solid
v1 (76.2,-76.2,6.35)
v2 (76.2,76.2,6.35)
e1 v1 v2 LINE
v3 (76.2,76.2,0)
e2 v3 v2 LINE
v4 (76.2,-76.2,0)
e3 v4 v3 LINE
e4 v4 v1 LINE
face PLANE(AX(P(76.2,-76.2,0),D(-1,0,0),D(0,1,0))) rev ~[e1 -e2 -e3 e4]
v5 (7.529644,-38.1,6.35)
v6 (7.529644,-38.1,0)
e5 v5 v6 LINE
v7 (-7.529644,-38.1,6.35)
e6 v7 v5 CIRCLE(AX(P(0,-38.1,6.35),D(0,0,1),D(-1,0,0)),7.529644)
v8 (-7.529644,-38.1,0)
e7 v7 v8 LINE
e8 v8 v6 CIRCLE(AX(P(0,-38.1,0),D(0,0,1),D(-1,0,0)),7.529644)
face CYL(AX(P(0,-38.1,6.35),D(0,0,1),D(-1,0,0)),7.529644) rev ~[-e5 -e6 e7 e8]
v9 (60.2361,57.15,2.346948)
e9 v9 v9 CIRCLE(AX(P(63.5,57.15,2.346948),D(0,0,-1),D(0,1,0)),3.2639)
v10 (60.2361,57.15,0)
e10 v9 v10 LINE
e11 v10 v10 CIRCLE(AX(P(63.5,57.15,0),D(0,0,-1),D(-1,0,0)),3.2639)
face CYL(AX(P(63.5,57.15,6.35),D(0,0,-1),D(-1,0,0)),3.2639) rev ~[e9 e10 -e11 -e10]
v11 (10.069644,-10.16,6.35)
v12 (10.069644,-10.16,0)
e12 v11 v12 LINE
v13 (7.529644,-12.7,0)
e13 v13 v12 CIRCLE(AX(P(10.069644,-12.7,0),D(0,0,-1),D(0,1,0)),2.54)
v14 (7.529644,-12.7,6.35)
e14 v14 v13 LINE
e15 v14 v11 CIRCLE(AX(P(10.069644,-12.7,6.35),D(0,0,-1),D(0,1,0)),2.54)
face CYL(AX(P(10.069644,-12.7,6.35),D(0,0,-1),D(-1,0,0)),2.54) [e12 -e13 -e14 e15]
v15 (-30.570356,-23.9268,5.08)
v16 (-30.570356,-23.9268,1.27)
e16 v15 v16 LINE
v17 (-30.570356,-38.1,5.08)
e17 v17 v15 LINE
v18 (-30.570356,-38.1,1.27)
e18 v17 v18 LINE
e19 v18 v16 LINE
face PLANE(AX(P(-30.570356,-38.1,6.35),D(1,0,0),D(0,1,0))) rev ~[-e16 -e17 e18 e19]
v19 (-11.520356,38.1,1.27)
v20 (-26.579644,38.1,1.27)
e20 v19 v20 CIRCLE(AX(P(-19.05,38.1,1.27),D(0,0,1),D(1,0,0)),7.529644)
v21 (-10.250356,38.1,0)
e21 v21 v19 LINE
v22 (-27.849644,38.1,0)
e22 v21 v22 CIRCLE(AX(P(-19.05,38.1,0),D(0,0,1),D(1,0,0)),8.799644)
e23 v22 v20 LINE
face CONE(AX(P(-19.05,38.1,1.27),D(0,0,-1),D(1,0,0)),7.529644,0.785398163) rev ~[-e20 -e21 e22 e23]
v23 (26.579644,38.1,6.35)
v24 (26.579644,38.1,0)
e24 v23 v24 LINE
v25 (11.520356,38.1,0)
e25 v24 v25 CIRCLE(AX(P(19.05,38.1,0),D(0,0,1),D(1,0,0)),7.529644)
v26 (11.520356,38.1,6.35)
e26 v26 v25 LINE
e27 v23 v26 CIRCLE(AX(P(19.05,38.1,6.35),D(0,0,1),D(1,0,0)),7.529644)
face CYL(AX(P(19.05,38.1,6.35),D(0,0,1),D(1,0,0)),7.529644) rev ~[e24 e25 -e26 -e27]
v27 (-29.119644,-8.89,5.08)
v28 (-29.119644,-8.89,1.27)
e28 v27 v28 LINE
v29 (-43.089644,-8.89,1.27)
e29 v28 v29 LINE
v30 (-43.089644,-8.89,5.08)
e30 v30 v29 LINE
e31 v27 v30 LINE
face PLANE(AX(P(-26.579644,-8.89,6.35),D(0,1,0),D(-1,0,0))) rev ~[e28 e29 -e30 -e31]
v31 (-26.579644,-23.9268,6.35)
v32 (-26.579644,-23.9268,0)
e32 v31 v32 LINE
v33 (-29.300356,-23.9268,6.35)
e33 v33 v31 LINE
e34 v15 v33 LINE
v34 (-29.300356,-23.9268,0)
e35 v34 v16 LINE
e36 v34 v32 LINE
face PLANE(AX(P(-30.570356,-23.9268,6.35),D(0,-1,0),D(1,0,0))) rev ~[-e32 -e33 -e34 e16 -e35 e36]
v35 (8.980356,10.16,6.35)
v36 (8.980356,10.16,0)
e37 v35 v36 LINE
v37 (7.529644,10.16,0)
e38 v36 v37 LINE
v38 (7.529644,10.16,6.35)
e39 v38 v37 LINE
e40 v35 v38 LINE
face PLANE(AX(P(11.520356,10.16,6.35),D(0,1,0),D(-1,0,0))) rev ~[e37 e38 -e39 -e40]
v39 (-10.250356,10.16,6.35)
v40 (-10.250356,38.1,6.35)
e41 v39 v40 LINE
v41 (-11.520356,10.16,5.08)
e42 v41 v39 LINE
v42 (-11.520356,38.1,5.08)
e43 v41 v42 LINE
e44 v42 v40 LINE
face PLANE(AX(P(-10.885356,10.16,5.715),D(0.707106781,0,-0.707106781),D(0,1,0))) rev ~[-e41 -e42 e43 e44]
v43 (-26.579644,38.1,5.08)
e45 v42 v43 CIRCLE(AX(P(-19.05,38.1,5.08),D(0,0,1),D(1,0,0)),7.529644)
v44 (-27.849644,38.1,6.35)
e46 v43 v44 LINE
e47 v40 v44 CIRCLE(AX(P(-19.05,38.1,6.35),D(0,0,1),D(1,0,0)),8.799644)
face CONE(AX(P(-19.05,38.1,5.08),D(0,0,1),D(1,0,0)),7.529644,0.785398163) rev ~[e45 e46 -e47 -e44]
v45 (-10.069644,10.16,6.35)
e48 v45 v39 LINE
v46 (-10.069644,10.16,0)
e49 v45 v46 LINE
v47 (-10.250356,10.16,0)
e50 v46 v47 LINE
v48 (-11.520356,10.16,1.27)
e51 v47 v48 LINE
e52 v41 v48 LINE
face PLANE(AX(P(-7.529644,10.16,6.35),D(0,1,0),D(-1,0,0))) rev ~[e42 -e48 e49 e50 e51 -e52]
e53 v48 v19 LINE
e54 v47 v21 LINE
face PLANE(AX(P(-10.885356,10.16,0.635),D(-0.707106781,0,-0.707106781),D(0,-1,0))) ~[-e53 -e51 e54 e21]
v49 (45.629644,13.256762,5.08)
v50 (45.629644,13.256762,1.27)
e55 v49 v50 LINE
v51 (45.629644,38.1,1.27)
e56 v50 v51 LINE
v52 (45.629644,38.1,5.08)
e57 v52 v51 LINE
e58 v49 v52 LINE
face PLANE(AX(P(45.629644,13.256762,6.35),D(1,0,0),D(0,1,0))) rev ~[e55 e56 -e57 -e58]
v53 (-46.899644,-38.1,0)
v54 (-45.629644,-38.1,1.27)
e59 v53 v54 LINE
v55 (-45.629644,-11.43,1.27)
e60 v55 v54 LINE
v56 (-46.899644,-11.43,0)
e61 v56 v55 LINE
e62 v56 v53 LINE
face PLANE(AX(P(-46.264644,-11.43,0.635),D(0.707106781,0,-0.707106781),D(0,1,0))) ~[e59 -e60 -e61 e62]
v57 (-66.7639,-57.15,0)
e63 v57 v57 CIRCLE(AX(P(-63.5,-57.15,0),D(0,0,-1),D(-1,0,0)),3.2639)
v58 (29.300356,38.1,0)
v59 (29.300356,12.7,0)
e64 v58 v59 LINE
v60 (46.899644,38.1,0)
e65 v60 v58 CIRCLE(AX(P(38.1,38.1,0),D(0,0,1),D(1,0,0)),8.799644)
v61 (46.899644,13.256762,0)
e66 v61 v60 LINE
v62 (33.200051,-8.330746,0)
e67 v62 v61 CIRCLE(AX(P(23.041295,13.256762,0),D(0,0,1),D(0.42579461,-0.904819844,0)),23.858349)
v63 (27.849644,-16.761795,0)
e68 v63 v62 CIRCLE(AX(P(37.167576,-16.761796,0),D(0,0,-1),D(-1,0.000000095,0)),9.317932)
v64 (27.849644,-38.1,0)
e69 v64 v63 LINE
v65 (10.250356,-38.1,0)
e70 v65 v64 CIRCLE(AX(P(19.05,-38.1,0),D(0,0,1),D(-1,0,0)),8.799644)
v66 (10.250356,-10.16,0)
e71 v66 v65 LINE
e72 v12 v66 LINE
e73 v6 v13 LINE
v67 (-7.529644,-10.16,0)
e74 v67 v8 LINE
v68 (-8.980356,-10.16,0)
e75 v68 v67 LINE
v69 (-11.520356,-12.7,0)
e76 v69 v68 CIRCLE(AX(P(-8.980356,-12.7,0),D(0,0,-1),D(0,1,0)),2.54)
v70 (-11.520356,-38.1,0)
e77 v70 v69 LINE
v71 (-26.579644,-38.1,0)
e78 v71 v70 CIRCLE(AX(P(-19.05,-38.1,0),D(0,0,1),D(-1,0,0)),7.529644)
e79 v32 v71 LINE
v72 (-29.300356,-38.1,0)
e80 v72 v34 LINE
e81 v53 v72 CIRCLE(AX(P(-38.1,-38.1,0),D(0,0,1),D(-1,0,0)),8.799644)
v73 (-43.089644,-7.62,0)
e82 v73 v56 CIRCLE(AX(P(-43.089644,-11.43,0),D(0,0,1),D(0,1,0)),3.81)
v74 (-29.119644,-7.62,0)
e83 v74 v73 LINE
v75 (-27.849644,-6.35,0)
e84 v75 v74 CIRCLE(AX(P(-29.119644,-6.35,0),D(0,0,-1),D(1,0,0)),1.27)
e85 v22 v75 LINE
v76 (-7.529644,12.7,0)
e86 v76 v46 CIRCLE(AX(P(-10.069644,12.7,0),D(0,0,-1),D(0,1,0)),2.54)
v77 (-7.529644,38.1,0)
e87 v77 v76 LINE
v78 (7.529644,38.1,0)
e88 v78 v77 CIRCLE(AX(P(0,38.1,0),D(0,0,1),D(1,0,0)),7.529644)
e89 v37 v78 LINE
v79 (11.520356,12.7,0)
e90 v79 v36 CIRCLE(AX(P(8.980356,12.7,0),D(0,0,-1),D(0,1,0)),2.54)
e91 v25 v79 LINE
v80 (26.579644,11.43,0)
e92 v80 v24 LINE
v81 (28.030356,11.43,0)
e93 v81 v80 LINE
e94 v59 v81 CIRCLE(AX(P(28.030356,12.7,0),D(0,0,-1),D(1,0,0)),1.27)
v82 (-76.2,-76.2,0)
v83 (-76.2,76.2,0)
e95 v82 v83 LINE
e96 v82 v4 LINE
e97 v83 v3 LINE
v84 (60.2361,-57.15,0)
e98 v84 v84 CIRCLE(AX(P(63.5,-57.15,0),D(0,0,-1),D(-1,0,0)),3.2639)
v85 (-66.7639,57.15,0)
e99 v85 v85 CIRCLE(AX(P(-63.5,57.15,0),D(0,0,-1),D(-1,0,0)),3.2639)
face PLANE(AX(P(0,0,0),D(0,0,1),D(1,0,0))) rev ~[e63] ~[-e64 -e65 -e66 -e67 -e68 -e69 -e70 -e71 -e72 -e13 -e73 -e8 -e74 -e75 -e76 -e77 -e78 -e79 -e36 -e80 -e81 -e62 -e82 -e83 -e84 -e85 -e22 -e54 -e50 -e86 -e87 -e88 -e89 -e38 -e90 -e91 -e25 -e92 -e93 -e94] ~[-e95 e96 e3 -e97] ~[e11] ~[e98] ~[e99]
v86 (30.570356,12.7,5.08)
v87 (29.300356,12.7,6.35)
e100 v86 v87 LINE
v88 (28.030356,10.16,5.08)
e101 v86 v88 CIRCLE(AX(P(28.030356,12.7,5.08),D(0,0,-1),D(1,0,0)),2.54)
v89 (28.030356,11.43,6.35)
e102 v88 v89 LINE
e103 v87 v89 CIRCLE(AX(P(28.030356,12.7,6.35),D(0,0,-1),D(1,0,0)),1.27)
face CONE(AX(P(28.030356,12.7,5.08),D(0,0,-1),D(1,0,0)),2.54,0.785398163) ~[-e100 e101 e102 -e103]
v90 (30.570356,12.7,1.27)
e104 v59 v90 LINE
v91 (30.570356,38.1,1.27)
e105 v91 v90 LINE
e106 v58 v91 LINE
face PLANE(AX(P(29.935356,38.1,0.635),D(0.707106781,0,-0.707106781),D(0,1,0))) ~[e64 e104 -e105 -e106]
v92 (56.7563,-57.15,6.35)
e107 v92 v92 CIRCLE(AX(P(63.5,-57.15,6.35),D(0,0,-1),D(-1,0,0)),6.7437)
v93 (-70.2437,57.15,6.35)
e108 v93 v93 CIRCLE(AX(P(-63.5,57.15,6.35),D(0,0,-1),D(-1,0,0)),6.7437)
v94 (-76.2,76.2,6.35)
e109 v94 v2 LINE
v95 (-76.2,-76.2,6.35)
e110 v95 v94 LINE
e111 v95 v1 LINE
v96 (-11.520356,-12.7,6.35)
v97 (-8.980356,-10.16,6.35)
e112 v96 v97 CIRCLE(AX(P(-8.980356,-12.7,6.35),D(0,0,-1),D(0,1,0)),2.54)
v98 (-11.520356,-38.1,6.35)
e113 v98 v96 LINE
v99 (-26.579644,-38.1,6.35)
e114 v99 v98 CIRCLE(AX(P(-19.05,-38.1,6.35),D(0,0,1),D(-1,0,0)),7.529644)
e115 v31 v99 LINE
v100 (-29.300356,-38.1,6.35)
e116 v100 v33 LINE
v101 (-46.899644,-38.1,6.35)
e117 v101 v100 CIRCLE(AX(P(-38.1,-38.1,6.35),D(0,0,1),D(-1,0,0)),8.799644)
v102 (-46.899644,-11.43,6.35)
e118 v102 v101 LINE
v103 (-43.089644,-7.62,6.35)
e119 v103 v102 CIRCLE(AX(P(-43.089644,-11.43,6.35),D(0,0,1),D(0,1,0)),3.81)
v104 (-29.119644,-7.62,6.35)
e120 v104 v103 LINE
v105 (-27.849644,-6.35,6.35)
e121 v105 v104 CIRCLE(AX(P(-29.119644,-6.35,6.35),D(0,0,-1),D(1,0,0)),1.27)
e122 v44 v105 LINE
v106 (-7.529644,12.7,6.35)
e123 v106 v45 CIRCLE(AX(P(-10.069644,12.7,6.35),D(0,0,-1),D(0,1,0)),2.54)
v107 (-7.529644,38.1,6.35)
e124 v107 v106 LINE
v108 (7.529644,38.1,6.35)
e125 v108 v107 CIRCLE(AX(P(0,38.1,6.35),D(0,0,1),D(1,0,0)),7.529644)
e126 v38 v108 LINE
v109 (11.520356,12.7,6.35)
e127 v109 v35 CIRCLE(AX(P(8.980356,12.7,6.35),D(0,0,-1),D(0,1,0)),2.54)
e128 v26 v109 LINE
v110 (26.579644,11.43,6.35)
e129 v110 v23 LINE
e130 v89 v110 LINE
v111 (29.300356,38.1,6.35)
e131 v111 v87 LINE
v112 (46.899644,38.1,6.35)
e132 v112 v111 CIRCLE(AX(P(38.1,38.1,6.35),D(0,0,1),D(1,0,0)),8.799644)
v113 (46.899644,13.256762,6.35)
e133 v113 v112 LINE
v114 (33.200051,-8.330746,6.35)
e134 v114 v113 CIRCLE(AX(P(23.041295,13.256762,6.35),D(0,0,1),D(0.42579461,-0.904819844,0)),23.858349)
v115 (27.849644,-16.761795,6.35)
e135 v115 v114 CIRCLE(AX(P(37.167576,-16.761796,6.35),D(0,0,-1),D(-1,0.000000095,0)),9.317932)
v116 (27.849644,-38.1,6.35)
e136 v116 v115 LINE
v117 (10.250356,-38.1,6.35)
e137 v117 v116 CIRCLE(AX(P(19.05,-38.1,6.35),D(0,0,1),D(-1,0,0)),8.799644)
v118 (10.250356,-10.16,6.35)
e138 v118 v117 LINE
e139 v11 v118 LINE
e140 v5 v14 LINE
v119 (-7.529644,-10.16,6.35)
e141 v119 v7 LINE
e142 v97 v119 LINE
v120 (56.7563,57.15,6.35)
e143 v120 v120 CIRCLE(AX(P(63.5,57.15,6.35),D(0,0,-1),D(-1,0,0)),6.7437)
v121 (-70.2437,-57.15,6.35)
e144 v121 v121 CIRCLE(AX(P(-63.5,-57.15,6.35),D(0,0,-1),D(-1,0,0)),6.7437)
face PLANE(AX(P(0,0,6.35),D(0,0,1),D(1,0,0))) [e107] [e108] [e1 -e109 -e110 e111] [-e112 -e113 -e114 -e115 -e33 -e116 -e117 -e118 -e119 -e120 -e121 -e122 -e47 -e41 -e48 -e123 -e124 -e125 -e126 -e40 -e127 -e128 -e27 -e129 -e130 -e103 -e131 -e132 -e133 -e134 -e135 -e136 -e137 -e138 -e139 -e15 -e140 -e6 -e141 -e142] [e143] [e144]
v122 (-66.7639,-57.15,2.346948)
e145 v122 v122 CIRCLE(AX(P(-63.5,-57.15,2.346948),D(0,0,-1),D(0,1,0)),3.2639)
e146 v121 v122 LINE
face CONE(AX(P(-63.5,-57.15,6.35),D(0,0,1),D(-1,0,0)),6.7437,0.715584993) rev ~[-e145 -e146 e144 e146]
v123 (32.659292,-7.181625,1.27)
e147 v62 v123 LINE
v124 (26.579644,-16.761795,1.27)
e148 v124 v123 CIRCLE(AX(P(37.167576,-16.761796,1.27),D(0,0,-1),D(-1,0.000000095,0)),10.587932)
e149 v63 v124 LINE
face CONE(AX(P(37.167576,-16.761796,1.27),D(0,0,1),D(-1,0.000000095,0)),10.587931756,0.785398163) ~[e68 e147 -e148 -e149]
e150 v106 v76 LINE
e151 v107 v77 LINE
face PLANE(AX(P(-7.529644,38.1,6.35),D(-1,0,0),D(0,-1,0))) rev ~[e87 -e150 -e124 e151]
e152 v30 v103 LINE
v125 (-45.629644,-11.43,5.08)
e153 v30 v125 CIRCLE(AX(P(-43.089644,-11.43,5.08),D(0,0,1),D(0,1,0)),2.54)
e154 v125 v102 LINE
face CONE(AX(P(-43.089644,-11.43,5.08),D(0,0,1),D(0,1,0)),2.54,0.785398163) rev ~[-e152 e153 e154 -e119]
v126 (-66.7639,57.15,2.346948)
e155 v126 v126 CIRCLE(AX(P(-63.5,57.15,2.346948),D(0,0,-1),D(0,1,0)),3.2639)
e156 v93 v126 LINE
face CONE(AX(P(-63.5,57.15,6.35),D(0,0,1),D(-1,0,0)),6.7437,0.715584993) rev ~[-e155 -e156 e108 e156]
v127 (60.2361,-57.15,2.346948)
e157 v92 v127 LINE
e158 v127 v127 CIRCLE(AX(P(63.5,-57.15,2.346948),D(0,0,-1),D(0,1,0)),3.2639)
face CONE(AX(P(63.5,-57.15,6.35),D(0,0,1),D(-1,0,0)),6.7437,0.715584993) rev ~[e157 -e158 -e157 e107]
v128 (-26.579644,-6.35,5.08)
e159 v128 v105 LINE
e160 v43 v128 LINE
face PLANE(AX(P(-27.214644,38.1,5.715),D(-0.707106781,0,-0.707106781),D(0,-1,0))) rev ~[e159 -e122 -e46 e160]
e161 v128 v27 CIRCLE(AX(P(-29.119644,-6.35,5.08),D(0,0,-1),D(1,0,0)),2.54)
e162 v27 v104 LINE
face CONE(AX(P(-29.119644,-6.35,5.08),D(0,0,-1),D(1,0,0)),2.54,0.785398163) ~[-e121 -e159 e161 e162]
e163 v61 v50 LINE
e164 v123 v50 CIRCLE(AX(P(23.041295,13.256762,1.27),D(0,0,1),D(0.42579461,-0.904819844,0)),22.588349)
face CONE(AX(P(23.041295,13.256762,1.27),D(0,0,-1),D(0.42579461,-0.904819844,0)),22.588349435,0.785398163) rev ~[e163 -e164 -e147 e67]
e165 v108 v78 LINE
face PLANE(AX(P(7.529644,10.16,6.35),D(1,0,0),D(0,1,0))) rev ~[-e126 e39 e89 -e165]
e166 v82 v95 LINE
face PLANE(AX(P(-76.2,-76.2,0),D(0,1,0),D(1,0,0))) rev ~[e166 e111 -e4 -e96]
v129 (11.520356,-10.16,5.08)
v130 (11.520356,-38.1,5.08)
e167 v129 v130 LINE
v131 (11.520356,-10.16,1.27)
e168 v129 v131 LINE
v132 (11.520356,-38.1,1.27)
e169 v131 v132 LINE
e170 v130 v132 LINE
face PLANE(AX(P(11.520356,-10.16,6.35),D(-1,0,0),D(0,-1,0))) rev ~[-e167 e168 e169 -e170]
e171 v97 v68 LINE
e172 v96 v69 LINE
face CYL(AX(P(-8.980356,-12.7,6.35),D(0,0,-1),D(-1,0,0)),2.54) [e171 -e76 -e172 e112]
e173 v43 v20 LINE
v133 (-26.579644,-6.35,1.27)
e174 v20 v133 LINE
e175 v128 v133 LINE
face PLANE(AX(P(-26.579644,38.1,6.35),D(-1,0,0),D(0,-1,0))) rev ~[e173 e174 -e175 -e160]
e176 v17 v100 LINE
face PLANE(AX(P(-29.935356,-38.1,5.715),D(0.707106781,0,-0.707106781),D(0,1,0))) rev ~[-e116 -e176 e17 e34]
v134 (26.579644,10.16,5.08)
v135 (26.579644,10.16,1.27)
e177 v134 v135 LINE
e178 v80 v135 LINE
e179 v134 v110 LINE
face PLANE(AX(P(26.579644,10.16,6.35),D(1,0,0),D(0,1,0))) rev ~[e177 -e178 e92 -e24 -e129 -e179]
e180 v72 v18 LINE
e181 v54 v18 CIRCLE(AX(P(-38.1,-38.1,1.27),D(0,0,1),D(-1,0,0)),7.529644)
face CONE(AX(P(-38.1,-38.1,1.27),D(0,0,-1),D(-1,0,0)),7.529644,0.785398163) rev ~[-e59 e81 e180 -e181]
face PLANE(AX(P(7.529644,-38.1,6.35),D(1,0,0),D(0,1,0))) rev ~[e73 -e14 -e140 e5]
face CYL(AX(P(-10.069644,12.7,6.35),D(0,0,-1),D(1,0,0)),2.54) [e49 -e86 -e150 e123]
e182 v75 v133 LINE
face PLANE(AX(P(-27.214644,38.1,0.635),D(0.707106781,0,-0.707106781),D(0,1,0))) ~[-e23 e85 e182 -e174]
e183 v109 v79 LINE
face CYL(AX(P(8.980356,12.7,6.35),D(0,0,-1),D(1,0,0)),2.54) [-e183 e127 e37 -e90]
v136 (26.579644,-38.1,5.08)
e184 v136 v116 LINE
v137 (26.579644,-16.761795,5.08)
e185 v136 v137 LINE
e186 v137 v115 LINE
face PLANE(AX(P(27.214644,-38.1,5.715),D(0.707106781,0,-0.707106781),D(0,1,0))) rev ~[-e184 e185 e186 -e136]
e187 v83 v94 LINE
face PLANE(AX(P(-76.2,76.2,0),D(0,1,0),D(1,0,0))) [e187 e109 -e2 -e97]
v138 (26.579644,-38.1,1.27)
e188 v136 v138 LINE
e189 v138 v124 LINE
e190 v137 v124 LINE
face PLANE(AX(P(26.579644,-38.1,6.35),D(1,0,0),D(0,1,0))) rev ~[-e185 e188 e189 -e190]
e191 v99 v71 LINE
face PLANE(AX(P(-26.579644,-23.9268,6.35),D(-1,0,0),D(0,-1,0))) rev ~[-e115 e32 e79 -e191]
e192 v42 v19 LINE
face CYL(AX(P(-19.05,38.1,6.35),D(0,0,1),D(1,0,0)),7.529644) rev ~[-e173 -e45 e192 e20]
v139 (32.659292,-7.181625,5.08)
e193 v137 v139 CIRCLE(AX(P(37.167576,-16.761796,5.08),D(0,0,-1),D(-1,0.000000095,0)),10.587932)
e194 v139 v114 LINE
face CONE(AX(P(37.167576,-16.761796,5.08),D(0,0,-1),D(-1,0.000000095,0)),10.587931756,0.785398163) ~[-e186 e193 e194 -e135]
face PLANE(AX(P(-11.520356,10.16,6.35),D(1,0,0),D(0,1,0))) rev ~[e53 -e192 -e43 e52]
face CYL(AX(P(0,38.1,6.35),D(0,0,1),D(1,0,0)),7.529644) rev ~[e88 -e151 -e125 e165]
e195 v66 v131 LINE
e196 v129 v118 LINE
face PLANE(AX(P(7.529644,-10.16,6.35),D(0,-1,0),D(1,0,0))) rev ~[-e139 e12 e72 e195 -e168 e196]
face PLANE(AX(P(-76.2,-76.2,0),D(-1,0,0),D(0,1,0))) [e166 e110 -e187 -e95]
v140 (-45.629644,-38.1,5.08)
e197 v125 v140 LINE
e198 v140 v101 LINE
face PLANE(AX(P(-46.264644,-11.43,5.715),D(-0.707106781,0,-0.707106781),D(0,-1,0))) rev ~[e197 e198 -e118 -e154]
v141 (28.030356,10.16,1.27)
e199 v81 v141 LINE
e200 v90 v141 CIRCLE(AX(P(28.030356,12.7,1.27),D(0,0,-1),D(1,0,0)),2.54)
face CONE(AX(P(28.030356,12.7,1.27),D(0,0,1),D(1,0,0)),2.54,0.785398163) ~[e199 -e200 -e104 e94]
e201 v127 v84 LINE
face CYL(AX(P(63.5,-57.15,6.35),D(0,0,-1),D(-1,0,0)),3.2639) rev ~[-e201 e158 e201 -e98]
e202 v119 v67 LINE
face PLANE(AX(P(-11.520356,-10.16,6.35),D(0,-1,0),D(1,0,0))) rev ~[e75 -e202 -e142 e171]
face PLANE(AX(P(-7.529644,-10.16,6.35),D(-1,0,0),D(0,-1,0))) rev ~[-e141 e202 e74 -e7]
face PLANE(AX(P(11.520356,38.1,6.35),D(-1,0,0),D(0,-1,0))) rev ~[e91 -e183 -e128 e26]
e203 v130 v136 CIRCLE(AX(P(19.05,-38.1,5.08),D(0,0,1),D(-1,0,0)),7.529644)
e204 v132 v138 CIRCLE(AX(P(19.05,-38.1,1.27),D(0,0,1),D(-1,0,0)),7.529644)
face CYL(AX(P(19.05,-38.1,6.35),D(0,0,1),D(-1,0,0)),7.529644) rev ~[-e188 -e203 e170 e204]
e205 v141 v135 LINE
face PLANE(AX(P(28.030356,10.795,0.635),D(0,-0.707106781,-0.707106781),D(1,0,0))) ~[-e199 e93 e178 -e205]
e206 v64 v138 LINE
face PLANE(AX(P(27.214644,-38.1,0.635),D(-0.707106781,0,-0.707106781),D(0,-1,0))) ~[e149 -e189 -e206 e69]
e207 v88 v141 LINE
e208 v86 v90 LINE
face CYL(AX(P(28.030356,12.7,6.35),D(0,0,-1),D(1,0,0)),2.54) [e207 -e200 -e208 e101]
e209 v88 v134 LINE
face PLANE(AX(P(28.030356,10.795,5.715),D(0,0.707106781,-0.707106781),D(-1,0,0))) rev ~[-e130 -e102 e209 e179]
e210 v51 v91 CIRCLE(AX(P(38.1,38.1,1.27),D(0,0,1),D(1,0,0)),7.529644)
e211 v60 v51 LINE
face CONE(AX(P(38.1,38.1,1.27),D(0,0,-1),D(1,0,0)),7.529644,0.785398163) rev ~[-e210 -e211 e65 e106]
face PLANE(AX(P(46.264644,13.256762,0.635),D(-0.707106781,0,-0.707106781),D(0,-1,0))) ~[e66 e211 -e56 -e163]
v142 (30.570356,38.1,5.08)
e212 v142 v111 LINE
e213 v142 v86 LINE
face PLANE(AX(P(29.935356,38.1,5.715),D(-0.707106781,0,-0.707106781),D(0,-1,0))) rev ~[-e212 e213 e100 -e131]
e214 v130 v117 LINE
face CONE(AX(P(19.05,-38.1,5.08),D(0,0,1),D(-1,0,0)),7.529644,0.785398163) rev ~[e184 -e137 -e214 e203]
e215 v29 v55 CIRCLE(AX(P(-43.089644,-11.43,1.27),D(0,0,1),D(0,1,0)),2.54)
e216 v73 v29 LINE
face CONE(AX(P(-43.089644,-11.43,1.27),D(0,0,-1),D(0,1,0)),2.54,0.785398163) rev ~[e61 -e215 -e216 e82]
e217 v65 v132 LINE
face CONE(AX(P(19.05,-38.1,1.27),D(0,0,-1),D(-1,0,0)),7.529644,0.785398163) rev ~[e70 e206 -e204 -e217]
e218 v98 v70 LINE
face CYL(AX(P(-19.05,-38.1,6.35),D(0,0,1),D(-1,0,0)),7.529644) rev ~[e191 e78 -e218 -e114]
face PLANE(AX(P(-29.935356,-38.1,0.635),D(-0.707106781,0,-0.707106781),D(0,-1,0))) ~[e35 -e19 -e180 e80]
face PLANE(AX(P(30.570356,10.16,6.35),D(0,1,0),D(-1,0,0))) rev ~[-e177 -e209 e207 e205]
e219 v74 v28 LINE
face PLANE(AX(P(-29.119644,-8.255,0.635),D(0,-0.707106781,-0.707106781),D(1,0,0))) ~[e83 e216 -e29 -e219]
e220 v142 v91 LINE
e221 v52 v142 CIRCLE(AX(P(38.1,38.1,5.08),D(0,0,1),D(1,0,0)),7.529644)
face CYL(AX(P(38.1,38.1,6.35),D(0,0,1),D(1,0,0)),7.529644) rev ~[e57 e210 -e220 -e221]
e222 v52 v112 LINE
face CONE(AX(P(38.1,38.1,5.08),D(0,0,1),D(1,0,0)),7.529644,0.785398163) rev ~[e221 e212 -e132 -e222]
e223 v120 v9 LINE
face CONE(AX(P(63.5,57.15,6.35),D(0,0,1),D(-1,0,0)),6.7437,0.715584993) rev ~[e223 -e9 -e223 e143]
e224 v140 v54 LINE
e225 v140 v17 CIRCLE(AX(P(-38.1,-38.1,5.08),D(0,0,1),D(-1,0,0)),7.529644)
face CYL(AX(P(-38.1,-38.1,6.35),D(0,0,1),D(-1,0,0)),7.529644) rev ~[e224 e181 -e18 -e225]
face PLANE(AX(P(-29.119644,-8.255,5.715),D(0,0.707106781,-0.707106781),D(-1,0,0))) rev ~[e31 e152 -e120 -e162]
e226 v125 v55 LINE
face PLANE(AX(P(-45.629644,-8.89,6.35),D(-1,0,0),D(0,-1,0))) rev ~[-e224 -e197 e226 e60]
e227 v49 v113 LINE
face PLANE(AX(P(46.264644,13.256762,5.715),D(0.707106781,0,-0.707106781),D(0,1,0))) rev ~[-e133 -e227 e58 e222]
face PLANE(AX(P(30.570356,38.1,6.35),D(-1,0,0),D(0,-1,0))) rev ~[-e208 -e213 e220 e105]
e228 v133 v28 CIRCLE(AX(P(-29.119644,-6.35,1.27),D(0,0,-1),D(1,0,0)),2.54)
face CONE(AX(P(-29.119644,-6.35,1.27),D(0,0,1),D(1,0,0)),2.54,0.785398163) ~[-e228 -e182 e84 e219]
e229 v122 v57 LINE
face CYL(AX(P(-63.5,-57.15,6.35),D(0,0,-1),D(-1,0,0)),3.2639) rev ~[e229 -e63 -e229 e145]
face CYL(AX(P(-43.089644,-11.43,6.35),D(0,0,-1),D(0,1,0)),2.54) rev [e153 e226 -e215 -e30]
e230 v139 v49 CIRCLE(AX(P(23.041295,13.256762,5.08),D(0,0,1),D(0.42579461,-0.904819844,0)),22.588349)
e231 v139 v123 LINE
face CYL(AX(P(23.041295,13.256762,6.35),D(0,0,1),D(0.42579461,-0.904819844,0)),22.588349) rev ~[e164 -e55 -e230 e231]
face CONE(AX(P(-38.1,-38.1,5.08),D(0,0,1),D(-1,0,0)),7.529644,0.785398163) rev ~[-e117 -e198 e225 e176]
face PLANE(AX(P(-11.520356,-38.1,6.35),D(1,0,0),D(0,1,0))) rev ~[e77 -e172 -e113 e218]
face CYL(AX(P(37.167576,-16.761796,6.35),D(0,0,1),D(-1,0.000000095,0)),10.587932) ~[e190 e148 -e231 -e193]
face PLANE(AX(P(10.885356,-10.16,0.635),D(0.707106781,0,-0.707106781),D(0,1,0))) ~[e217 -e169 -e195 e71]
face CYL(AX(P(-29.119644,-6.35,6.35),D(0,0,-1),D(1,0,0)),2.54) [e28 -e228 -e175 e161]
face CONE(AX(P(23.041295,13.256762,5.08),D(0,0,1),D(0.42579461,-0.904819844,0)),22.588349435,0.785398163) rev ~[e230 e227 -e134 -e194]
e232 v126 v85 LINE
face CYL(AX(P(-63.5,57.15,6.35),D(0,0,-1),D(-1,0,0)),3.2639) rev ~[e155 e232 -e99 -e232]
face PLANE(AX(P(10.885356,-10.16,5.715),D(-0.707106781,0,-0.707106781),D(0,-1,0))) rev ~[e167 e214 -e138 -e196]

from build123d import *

# Parameters (mm, degrees)
F0_W           = 152.4
F0_H           = 152.4
F1_DEPTH       = 6.35
F3_DEPTH       = 6.351
F4_R           = 2.54
F5_SIZE        = 1.27
F7_D           = 6.5278
F7_CSINK_D     = 13.4874
F7_CSINK_ANGLE = 82


with BuildPart() as f1:
    # F0 (on Top) → F1 (new body)
    with BuildSketch(Plane.XY):
        Rectangle(F0_W, F0_H)
    extrude(amount=F1_DEPTH)

    # F2 (on face) → F3 (cut, through all)
    with BuildSketch(Plane.XY.offset(6.35)):
        with BuildLine():
            Line((7.529644, 10.16), (7.529644, 38.1))
            ThreePointArc((7.529644, 38.1), (0, 45.629644), (-7.529644, 38.1))
            Line((-7.529644, 38.1), (-7.529644, 10.16))
            Line((-7.529644, 10.16), (-11.520356, 10.16))
            Line((-11.520356, 10.16), (-11.520356, 38.1))
            ThreePointArc((-11.520356, 38.1), (-19.05, 45.629644), (-26.579644, 38.1))
            Line((-26.579644, 38.1), (-26.579644, 0))
            Line((-26.579644, 0), (-26.579644, -8.89))
            Line((-26.579644, -8.89), (-45.629644, -8.89))
            Line((-45.629644, -8.89), (-45.629644, -38.1))
            ThreePointArc((-45.629644, -38.1), (-38.1, -45.629644), (-30.570356, -38.1))
            Line((-30.570356, -38.1), (-30.570356, -23.9268))
            Line((-30.570356, -23.9268), (-26.579644, -23.9268))
            Line((-26.579644, -23.9268), (-26.579644, -38.1))
            ThreePointArc((-26.579644, -38.1), (-19.05, -45.629644), (-11.520356, -38.1))
            Line((-11.520356, -38.1), (-11.520356, -10.16))
            Line((-11.520356, -10.16), (-7.529644, -10.16))
            Line((-7.529644, -10.16), (-7.529644, -38.1))
            ThreePointArc((-7.529644, -38.1), (0, -45.629644), (7.529644, -38.1))
            Line((7.529644, -38.1), (7.529644, -10.16))
            Line((7.529644, -10.16), (11.520356, -10.16))
            Line((11.520356, -10.16), (11.520356, -38.1))
            ThreePointArc((11.520356, -38.1), (19.05, -45.629644), (26.579644, -38.1))
            Line((26.579644, -38.1), (26.579644, -16.761795))
            ThreePointArc((26.579644, -16.761795), (28.227842, -11.088573), (32.659292, -7.181625))
            ThreePointArc((32.659292, -7.181625), (42.113371, 1.15348), (45.629644, 13.256762))
            Line((45.629644, 13.256762), (45.629644, 38.1))
            ThreePointArc((45.629644, 38.1), (38.1, 45.629644), (30.570356, 38.1))
            Line((30.570356, 38.1), (30.570356, 10.16))
            Line((30.570356, 10.16), (26.579644, 10.16))
            Line((26.579644, 10.16), (26.579644, 38.1))
            ThreePointArc((26.579644, 38.1), (19.05, 45.629644), (11.520356, 38.1))
            Line((11.520356, 38.1), (11.520356, 10.16))
            Line((11.520356, 10.16), (7.529644, 10.16))
        make_face()
    extrude(amount=-F3_DEPTH, mode=Mode.SUBTRACT)

    # F4
    f4_edges = [f1.edges().sort_by_distance(p)[0] for p in [
        (-7.529644, 10.16, 3.175),
        (-11.520356, -10.16, 3.175),
        (7.529644, -10.16, 3.175),
        (11.520356, 10.16, 3.175),
        (30.570356, 10.16, 3.175),
        (-26.579644, -8.89, 3.175),
        (-45.629644, -8.89, 3.175),
    ]]
    fillet(f4_edges, radius=F4_R)

    # F5
    f5_edges = [f1.edges().sort_by_distance(p)[0] for p in [
        (45.629644, 25.678381, 6.35),
        (30.570356, 25.4, 0),
        (-45.629644, -24.765, 6.35),
        (-30.570356, -31.0134, 0),
    ]]
    chamfer(f5_edges, length=F5_SIZE)

    # F7 (through all)
    with Locations(Plane.XY.offset(6.35)):
        with Locations((-63.5, 57.15), (63.5, 57.15), (63.5, -57.15), (-63.5, -57.15)):
            CounterSinkHole(F7_D / 2, F7_CSINK_D / 2, counter_sink_angle=F7_CSINK_ANGLE)


solid = f1.part
